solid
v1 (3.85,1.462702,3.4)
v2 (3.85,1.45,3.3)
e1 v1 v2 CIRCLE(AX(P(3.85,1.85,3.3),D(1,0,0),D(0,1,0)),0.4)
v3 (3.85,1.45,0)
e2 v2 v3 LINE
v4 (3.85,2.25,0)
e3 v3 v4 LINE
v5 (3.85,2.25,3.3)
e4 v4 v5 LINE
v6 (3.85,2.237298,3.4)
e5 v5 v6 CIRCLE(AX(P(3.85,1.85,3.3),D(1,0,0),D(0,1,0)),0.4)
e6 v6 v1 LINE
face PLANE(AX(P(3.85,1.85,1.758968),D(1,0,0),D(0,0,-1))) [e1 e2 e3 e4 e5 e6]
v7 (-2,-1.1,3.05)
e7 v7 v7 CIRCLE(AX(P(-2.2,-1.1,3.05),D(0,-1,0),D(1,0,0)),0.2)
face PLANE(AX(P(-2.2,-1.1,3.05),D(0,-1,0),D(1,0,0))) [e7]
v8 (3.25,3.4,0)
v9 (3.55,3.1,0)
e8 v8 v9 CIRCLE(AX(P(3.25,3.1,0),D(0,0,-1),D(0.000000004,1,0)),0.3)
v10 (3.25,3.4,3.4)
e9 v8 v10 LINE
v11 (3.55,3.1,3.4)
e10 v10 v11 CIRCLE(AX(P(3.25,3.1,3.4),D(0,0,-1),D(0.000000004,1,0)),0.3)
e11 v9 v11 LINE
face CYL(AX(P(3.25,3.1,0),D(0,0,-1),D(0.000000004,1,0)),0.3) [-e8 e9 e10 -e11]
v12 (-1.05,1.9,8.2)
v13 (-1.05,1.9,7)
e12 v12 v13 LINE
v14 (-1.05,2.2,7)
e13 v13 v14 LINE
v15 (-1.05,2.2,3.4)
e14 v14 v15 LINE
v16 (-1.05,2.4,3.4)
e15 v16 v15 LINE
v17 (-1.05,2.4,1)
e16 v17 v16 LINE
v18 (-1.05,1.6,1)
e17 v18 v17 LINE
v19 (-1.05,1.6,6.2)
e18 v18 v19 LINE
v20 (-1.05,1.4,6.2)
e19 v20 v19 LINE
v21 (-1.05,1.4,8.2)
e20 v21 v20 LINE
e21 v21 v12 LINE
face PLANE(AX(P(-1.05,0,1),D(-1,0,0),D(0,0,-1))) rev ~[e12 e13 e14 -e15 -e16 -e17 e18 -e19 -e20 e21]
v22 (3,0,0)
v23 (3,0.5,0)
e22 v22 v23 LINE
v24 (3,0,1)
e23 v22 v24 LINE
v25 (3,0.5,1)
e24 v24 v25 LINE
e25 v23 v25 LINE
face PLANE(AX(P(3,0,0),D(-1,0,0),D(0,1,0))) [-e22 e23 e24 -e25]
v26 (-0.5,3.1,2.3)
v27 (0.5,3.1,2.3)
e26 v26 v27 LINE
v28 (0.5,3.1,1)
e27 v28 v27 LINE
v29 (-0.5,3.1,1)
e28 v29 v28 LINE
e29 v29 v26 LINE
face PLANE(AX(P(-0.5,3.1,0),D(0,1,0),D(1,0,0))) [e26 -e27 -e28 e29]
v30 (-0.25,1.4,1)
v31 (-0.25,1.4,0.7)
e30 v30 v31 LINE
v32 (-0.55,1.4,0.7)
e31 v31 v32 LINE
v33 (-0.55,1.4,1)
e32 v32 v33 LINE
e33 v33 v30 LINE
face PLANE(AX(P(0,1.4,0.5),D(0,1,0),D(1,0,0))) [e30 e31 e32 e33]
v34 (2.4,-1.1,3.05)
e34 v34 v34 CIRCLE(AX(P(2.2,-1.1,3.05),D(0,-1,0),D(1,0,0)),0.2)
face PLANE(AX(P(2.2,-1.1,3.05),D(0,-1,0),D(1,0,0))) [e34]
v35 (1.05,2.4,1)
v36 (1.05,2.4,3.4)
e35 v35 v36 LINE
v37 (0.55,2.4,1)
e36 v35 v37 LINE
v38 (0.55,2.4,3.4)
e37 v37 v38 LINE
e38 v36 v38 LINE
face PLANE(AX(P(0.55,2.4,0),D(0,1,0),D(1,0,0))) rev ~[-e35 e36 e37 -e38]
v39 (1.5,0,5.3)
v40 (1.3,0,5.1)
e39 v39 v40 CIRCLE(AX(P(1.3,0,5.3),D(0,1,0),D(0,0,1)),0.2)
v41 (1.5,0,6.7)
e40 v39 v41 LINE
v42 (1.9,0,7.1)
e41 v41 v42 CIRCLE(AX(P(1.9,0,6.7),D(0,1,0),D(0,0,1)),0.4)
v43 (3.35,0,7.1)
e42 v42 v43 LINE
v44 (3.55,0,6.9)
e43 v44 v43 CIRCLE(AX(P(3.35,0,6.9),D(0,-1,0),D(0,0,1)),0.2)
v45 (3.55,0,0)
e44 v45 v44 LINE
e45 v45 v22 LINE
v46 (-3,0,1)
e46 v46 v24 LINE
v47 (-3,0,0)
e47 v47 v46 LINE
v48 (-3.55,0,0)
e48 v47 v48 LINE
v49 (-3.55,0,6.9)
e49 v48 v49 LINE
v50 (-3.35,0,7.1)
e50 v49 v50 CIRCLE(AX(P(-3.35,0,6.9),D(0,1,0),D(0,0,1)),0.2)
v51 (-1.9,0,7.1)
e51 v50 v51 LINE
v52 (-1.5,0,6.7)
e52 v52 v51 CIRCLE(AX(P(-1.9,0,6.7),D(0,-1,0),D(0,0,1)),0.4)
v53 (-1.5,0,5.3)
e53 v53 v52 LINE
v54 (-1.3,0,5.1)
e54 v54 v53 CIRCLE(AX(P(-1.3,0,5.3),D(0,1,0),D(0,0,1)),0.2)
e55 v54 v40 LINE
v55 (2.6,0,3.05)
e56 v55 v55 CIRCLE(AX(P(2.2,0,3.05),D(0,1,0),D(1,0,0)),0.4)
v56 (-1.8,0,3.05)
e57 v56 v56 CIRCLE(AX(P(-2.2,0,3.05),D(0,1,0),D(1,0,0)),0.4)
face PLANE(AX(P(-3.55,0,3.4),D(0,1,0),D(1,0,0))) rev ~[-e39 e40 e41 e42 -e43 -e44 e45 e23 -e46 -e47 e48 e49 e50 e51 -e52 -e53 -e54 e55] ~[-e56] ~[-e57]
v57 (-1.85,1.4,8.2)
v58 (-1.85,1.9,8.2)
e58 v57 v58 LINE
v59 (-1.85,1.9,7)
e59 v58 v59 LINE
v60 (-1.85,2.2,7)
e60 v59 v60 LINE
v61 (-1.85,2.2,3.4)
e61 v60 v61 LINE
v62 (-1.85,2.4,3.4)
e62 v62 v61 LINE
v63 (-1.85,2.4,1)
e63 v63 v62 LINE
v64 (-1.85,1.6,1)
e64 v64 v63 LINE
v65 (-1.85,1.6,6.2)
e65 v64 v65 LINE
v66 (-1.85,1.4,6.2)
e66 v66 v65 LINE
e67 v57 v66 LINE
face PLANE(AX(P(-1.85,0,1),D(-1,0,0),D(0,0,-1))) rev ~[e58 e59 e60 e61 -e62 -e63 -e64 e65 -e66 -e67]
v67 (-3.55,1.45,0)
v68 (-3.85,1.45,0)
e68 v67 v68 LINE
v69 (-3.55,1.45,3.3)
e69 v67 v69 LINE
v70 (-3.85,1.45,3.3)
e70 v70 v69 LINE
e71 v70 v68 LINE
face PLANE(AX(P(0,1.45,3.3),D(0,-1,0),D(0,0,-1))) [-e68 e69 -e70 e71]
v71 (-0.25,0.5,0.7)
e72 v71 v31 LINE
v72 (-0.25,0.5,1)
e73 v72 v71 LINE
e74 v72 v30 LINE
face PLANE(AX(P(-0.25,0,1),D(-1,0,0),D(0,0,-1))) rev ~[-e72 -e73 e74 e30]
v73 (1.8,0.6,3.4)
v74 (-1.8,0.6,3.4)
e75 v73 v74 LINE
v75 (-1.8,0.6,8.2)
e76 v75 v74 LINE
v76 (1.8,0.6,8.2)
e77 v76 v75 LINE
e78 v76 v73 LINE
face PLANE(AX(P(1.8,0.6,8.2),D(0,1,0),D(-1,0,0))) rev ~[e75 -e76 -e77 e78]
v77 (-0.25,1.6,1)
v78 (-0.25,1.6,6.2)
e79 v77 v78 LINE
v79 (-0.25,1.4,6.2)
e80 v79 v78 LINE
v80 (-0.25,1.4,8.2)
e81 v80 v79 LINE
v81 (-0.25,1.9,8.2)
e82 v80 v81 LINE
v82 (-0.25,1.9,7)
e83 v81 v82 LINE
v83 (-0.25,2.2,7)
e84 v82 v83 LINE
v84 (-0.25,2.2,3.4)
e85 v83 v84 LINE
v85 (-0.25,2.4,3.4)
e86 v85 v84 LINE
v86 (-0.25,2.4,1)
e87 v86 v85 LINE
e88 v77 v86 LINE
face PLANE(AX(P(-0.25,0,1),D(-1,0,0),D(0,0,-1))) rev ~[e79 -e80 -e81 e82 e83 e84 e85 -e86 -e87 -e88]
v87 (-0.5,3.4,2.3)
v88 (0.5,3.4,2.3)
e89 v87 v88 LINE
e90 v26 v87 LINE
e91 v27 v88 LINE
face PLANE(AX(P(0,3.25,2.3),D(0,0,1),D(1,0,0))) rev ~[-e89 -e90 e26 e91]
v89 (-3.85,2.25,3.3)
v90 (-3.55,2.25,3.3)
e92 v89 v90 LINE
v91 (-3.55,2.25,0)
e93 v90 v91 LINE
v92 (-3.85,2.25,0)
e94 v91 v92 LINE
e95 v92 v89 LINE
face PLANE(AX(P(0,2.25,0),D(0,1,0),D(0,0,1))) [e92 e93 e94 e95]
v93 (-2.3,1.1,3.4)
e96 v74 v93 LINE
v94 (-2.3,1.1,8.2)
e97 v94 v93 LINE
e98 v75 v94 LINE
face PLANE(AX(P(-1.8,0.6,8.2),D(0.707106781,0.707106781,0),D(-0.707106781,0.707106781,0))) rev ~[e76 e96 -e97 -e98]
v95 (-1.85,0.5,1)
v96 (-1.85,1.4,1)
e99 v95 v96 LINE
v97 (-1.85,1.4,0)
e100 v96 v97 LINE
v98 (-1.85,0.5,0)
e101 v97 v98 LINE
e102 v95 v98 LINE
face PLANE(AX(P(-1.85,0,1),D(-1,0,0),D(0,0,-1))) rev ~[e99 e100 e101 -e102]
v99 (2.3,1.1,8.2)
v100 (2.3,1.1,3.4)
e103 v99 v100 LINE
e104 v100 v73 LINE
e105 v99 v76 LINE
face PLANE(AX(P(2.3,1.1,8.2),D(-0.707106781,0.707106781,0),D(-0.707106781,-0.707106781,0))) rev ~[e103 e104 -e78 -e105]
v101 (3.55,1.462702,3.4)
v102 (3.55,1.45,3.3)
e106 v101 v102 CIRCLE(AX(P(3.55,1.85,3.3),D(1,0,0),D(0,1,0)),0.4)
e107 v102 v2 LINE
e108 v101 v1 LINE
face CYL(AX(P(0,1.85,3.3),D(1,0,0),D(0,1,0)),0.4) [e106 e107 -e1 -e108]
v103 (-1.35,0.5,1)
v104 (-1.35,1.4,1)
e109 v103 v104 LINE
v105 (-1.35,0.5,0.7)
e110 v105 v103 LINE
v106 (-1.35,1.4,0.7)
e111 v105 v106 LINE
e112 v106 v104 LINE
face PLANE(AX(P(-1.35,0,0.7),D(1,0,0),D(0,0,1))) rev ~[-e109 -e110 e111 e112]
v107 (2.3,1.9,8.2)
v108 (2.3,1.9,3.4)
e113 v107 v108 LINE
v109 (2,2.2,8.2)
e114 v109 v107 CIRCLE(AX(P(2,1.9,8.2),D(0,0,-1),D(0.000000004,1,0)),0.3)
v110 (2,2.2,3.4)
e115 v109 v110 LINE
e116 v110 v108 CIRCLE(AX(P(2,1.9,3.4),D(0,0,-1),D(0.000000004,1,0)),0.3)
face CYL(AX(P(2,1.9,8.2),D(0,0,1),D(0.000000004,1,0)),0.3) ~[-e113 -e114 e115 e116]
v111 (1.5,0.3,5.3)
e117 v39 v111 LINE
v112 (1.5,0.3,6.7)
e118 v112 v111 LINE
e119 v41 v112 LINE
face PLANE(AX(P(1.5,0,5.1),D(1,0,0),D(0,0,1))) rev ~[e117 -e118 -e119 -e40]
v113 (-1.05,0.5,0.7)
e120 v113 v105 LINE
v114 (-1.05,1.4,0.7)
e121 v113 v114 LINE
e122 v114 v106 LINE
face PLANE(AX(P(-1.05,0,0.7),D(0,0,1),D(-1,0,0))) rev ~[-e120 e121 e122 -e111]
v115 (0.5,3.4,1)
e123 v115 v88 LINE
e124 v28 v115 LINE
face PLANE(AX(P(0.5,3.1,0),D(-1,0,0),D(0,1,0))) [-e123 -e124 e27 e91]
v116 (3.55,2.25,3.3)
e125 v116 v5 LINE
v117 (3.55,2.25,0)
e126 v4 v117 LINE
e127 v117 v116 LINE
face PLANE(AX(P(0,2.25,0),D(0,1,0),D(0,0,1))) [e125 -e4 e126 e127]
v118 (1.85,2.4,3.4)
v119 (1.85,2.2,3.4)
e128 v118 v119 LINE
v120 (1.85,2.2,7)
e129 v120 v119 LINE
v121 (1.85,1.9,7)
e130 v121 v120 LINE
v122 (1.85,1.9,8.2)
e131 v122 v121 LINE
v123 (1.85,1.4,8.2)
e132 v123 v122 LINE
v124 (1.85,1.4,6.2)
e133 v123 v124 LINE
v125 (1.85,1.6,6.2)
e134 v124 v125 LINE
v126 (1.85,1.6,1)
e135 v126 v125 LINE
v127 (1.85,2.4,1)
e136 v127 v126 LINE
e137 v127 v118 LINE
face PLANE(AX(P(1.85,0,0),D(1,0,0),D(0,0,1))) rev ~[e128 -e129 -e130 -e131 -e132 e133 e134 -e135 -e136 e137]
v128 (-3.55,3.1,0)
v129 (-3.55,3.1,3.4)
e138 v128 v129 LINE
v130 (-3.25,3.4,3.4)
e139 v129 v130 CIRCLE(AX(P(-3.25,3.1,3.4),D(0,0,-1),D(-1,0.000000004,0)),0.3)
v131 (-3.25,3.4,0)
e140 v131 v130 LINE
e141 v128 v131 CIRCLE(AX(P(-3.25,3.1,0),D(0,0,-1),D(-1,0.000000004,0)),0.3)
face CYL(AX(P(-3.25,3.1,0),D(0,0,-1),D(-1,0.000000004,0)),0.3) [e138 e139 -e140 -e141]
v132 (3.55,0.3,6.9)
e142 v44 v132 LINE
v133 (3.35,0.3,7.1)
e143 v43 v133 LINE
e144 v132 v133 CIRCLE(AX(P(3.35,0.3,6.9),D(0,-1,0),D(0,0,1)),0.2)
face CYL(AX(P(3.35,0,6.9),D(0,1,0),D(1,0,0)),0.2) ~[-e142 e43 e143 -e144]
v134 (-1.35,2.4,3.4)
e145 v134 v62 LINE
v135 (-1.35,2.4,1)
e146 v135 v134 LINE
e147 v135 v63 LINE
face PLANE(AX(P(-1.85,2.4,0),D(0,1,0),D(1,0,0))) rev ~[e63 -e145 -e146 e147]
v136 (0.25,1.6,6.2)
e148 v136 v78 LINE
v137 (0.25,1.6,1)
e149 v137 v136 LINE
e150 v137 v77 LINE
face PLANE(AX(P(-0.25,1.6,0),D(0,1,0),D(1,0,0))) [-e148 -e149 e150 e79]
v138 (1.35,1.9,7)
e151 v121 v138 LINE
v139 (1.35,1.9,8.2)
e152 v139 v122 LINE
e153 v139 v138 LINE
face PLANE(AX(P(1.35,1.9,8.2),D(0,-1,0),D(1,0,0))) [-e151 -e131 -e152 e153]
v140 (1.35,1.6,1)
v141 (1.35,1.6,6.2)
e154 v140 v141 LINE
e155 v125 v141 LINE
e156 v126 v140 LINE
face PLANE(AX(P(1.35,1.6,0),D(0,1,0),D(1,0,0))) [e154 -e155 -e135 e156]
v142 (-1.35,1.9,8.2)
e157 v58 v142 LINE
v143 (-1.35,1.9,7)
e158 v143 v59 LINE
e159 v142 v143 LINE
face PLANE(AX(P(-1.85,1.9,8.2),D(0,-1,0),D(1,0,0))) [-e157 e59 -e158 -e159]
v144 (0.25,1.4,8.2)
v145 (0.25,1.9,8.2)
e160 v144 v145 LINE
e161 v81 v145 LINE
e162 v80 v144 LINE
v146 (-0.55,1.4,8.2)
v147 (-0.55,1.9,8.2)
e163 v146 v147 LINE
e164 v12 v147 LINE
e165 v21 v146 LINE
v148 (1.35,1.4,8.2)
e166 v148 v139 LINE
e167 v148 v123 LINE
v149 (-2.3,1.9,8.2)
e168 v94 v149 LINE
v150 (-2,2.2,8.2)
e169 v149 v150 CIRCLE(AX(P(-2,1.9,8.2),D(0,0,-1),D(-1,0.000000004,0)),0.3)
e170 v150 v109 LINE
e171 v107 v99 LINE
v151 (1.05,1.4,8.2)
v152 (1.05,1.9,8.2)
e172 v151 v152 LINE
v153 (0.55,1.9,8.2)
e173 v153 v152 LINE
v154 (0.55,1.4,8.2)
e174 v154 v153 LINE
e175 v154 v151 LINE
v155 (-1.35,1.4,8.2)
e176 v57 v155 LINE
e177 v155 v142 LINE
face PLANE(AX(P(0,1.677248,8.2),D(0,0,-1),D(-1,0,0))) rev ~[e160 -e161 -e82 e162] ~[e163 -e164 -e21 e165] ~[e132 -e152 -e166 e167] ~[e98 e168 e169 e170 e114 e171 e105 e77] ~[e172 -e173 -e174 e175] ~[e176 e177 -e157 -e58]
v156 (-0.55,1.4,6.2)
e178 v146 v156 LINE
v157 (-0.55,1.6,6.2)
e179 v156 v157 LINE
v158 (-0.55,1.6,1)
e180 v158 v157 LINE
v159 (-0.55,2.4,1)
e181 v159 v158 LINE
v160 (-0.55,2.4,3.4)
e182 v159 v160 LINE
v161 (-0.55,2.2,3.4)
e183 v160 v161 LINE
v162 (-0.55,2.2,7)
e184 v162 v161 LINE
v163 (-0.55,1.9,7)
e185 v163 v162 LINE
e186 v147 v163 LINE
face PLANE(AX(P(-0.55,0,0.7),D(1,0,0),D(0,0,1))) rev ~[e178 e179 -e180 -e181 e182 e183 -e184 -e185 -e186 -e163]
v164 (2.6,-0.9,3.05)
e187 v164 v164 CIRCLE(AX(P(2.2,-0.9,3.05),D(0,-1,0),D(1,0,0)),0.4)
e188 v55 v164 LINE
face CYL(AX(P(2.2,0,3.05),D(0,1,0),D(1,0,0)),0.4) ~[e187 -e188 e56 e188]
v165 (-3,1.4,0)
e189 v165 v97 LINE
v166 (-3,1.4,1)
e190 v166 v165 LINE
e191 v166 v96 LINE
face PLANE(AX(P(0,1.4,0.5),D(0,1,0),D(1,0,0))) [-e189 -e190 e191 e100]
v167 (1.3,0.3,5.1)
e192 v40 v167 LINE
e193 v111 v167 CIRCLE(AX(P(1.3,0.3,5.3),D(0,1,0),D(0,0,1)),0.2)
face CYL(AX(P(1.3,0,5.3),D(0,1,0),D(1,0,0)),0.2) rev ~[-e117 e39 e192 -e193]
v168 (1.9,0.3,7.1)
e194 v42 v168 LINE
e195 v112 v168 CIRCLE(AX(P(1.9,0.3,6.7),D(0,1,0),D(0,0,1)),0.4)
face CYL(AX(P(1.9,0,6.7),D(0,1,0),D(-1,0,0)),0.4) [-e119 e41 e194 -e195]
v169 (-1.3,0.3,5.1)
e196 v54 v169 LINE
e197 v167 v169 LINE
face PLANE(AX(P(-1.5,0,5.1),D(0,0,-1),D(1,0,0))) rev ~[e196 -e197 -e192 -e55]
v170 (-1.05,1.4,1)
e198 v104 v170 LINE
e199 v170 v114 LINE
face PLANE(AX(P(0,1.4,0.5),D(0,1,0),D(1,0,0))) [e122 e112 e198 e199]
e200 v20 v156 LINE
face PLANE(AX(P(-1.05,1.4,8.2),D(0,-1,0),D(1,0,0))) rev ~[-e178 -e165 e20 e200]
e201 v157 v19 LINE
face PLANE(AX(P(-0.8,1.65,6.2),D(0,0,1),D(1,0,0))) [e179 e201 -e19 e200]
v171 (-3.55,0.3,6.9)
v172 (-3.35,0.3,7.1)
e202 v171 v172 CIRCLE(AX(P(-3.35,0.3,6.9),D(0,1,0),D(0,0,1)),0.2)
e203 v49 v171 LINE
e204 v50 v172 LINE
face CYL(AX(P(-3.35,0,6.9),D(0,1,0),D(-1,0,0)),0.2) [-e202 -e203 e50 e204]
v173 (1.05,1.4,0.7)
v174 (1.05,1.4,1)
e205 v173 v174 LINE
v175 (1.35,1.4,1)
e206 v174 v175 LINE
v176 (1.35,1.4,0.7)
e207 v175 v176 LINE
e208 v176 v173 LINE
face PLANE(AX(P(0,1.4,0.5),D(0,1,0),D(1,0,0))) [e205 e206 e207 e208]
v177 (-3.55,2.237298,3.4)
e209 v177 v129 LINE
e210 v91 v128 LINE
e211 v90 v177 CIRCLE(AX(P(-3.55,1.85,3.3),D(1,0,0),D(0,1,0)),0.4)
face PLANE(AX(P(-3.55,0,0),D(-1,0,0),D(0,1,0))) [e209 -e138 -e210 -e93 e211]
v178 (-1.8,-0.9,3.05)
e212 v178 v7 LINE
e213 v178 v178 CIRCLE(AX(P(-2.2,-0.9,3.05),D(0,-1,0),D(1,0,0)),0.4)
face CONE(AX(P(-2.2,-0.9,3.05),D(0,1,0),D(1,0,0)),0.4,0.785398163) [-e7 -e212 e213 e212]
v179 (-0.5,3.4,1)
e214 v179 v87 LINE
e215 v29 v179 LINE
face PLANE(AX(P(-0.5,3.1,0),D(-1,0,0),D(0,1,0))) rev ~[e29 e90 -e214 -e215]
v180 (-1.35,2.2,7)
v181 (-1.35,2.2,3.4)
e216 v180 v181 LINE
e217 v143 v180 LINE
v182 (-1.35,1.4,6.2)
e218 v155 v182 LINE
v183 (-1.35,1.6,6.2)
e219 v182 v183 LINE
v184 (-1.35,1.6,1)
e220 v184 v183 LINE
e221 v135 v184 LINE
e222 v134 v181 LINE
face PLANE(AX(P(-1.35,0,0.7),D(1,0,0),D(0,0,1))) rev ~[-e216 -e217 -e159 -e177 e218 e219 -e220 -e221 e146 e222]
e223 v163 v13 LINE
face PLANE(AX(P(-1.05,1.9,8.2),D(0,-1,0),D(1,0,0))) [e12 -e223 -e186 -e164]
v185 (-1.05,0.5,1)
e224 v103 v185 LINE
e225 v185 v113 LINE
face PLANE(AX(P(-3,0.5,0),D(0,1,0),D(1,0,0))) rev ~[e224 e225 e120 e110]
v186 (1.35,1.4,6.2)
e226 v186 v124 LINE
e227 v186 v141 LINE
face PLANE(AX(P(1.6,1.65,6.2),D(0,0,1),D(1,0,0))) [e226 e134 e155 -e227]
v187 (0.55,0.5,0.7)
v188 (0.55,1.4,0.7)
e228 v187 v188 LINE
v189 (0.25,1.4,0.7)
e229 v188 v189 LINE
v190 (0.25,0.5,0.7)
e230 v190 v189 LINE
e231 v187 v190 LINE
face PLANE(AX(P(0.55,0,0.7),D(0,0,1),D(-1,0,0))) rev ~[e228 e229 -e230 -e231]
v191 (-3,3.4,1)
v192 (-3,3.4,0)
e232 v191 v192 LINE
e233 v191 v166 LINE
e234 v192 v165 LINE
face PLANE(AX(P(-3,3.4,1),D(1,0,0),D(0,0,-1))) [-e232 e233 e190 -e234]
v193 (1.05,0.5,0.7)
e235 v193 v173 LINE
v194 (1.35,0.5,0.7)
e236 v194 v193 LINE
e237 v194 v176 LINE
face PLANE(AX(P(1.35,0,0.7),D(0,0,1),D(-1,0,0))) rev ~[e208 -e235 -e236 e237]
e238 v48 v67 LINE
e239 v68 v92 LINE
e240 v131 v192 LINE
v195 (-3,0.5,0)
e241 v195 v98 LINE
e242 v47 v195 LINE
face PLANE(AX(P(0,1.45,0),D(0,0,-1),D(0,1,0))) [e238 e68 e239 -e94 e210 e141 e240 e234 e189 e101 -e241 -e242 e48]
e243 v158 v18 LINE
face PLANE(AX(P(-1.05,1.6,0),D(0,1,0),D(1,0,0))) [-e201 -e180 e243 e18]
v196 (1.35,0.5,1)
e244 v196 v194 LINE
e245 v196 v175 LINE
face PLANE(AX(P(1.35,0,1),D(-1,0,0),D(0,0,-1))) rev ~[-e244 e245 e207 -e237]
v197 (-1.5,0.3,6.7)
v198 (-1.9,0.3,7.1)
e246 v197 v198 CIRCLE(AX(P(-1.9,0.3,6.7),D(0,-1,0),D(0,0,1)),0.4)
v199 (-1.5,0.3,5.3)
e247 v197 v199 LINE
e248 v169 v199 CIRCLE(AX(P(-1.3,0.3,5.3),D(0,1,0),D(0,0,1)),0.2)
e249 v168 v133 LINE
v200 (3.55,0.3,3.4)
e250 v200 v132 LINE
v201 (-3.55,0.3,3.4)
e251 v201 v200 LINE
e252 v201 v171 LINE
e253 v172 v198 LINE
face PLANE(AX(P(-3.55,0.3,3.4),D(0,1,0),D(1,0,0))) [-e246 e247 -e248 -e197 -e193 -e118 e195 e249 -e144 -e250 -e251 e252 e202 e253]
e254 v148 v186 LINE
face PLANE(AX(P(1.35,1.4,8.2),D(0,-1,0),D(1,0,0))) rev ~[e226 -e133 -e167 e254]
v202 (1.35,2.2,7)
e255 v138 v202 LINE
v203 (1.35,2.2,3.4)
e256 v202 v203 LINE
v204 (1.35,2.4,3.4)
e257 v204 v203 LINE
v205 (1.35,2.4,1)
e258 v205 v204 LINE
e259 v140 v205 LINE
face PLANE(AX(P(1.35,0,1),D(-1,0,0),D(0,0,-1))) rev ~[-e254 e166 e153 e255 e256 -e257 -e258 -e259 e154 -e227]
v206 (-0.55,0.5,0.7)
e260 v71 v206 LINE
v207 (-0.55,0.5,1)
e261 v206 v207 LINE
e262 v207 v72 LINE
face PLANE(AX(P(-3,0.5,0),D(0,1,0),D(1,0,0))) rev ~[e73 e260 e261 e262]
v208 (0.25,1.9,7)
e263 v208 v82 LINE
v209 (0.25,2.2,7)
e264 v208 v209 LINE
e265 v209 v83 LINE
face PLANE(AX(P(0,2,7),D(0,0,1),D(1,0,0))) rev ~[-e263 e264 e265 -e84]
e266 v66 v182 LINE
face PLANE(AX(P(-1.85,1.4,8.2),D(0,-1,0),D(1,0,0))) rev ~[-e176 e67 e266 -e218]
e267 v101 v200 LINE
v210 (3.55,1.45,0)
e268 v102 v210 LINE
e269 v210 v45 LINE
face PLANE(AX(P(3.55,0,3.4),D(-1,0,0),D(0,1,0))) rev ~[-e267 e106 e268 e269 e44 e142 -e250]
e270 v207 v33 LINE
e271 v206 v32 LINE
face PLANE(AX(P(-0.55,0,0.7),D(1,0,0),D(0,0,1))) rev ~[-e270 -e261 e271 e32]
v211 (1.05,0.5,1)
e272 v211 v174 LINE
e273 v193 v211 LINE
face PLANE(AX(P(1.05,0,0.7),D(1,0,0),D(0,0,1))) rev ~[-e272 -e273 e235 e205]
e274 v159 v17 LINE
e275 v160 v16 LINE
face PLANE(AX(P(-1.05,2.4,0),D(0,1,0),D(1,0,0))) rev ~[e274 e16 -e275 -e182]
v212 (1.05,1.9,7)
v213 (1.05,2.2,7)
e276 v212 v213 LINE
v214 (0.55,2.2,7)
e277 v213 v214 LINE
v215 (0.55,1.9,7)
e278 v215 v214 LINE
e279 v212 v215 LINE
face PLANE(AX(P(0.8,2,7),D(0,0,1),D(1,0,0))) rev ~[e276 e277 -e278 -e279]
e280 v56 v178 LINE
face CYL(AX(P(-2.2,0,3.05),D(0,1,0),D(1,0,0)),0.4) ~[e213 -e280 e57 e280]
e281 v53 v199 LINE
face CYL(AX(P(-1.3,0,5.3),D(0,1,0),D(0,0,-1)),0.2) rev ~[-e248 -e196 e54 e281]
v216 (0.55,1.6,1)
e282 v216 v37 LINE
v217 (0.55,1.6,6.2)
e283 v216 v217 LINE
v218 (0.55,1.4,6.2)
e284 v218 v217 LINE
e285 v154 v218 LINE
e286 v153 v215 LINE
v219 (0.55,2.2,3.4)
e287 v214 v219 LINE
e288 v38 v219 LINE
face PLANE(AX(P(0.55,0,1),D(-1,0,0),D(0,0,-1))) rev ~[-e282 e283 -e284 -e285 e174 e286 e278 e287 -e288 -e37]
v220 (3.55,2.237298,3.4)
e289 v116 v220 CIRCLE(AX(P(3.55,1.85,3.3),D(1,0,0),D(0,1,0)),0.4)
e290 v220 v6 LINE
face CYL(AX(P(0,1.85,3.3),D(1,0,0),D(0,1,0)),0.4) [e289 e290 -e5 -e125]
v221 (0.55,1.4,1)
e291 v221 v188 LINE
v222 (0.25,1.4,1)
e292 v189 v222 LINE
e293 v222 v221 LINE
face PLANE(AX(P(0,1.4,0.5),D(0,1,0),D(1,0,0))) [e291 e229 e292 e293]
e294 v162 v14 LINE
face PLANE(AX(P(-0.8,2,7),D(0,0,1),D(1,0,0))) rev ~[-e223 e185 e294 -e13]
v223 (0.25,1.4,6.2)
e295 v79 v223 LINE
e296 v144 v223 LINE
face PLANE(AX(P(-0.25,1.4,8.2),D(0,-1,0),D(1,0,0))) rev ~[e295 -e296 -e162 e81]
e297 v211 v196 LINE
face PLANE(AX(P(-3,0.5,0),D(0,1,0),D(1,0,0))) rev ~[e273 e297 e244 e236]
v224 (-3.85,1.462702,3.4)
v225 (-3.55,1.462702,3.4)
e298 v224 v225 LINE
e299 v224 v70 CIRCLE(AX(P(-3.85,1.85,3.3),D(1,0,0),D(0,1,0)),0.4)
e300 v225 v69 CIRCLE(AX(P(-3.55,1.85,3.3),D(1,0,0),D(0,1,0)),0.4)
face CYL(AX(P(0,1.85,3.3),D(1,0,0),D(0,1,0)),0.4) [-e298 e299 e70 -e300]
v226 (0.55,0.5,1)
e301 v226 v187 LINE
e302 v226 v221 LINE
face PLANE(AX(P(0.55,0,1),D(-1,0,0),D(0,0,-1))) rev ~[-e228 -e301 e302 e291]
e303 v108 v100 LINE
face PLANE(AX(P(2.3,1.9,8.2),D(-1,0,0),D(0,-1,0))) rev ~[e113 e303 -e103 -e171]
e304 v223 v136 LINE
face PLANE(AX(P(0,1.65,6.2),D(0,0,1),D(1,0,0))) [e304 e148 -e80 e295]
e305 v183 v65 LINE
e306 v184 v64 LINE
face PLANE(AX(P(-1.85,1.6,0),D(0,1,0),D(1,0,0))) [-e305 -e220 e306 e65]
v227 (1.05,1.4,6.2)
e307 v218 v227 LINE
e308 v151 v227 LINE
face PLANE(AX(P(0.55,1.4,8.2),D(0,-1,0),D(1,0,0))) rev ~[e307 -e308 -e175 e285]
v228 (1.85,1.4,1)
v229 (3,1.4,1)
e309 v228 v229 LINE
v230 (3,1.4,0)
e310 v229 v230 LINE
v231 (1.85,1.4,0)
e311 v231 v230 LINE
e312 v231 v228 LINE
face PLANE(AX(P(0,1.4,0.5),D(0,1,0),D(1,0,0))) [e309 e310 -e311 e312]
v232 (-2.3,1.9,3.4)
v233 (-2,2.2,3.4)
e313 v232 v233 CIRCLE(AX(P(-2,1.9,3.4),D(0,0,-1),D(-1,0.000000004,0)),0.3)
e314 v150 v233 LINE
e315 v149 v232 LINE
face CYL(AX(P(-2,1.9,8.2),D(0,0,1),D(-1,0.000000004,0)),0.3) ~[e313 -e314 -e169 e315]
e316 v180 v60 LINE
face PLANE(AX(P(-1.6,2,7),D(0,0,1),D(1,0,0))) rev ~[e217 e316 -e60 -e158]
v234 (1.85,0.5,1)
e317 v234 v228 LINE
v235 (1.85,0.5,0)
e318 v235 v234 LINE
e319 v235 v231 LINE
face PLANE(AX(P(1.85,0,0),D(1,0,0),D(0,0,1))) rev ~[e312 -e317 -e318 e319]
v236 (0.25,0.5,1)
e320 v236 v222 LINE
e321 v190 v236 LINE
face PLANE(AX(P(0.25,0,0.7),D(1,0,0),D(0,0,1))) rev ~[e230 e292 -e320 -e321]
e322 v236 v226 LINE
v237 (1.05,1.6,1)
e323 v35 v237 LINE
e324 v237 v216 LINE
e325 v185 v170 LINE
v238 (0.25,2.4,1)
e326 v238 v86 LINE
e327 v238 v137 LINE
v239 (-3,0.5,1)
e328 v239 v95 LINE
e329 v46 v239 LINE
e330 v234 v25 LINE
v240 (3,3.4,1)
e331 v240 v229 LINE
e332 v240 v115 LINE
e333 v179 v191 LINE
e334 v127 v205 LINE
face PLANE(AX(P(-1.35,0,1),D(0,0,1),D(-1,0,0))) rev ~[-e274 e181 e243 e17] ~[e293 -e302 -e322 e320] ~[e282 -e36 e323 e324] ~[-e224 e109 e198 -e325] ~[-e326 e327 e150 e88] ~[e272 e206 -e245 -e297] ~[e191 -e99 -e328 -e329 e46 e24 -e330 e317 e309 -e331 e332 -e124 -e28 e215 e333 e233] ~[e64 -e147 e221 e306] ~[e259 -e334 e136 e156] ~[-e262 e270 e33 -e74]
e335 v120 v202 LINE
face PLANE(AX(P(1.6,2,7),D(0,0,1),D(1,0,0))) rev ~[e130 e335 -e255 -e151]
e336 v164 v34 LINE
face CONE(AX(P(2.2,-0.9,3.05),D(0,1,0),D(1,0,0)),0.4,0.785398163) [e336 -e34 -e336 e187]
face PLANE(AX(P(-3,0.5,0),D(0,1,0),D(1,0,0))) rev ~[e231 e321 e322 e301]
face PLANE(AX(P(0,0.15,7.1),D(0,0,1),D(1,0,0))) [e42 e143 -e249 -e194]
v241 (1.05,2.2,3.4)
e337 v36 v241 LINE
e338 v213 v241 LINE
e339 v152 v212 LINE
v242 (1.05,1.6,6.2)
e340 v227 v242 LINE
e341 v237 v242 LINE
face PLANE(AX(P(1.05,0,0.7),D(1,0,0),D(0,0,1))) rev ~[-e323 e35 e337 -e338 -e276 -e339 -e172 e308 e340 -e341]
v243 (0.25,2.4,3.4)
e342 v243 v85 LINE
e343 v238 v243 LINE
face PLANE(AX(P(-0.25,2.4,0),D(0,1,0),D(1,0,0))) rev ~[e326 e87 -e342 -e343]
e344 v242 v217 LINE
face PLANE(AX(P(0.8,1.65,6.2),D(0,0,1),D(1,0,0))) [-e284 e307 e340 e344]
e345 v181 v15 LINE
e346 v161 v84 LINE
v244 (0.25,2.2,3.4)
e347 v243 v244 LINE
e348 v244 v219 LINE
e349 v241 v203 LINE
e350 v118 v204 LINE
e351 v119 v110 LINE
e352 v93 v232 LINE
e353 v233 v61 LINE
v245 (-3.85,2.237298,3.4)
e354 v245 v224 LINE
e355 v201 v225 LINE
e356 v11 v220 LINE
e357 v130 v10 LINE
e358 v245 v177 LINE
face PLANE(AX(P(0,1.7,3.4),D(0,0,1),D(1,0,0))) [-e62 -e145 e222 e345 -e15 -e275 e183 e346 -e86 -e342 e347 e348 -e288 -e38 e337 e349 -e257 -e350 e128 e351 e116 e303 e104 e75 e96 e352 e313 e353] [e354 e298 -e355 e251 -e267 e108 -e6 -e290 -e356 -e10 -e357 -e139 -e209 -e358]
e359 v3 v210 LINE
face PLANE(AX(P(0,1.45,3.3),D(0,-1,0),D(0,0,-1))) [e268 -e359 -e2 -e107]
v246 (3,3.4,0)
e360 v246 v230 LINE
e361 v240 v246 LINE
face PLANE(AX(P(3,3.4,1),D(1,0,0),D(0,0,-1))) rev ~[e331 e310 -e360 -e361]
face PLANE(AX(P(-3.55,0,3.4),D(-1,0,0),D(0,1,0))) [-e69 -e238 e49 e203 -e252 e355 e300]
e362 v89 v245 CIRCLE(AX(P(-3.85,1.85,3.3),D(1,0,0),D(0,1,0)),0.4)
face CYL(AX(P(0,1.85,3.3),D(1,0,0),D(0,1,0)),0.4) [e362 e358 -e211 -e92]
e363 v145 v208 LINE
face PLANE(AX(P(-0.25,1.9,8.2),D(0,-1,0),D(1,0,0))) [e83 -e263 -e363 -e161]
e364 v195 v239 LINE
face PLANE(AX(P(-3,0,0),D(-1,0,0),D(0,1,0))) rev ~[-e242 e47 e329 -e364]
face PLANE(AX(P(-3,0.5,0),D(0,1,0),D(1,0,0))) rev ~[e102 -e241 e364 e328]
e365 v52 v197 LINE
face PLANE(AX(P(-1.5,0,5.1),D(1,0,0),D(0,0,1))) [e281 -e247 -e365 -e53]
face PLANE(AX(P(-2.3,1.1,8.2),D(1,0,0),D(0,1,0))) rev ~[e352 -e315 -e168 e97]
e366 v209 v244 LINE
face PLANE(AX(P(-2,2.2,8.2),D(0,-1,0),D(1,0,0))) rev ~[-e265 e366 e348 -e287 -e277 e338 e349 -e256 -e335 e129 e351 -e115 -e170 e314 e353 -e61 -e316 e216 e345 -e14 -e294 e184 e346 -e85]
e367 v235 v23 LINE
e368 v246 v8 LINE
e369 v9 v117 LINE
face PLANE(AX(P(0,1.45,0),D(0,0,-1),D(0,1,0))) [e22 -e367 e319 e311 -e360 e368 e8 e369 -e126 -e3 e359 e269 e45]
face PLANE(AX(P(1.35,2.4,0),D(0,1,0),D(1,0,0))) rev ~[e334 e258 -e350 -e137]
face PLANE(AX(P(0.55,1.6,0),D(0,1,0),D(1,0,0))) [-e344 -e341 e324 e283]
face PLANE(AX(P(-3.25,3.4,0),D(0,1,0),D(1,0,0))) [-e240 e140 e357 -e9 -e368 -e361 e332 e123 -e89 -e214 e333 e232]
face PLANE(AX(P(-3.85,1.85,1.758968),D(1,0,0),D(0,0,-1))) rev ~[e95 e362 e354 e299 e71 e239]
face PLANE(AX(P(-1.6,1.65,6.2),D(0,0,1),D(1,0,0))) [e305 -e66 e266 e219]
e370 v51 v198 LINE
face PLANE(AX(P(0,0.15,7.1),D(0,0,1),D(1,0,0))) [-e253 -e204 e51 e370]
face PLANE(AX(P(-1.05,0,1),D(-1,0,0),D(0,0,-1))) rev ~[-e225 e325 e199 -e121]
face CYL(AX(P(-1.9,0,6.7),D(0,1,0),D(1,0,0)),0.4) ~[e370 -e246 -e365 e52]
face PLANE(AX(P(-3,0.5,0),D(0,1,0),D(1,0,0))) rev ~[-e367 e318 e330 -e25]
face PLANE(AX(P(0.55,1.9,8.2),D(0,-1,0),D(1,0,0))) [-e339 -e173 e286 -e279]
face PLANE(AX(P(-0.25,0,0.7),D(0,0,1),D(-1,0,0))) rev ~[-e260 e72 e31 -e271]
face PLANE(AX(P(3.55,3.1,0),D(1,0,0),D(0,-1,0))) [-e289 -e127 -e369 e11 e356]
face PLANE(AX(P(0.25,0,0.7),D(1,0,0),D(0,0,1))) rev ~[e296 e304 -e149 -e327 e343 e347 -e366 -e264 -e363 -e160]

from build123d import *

# Parameters (mm, degrees)
BOSS_EXTRUDE1_DEPTH = 8.2
BOSS_EXTRUDE2_DEPTH = 3.85
SKETCH3_OUTSIDE_W   = 12.05
SKETCH3_OUTSIDE_H   = 7.75
CUT_EXTRUDE1_DEPTH  = 4.8
SKETCH4_W           = 1
SKETCH4_H           = 0.3
CUT_EXTRUDE3_DEPTH  = 2.3
CUT_EXTRUDE6_DEPTH  = 4.4
SKETCH6_W           = 0.5
SKETCH6_H           = 0.5
CUT_EXTRUDE7_DEPTH  = 2
SKETCH7_W           = 0.5
SKETCH7_H           = 0.8
CUT_EXTRUDE8_DEPTH  = 7
SKETCH8_W           = 6
SKETCH8_H           = 1
CUT_EXTRUDE9_DEPTH  = 2
SKETCH9_W           = 6
SKETCH9_H           = 0.5
CUT_EXTRUDE10_DEPTH = 1
SKETCH10_R          = 0.4
BOSS_EXTRUDE3_DEPTH = 1.1
CHAMFER1_SIZE       = 0.2
SKETCH11_W          = 7.1
SKETCH11_H          = 0.3
BOSS_EXTRUDE4_DEPTH = 3.7
FILLET1_R           = 0.2
SKETCH12_W          = 3
SKETCH12_H          = 2
CUT_EXTRUDE11_DEPTH = 0.5
FILLET2_R           = 0.2
FILLET3_R           = 0.4


with BuildPart() as part:
    # Sketch1 → Boss-Extrude1 (new body)
    with BuildSketch(Plane.XY):
        with BuildLine():
            Line((-3.25, 3.4), (3.25, 3.4))
            ThreePointArc((3.25, 3.4), (3.462132034, 3.312132034), (3.55, 3.1))
            Line((3.55, 3.1), (3.55, 0))
            Line((3.55, 0), (-3.55, 0))
            Line((-3.55, 0), (-3.55, 3.1))
            ThreePointArc((-3.55, 3.1), (-3.462132034, 3.312132034), (-3.25, 3.4))
        make_face()
    extrude(amount=BOSS_EXTRUDE1_DEPTH)

    # Sketch2 → Boss-Extrude2 (add, symmetric)
    with BuildSketch(Plane(origin=(0, 0, 0), x_dir=(0, 0, -1), z_dir=(1, 0, 0))):
        with BuildLine():
            Line((0, 2.25), (-3.3, 2.25))
            ThreePointArc((-3.3, 2.25), (-3.7, 1.85), (-3.3, 1.45))
            Line((-3.3, 1.45), (0, 1.45))
            Line((0, 1.45), (0, 2.25))
        make_face()
    extrude(amount=BOSS_EXTRUDE2_DEPTH, both=True)

    # Sketch3 outside → Cut-Extrude1 (cut)
    with BuildSketch(Plane.XY.offset(8.2)):
        with Locations((0, 1.7)):
            Rectangle(SKETCH3_OUTSIDE_W, SKETCH3_OUTSIDE_H)
        with BuildLine():
            Line((-2, 2.2), (2, 2.2))
            ThreePointArc((2, 2.2), (2.212132034, 2.112132034), (2.3, 1.9))
            Line((2.3, 1.9), (2.3, 1.1))
            Line((2.3, 1.1), (1.8, 0.6))
            Line((1.8, 0.6), (-1.8, 0.6))
            Line((-1.8, 0.6), (-2.3, 1.1))
            Line((-2.3, 1.1), (-2.3, 1.9))
            ThreePointArc((-2.3, 1.9), (-2.212132034, 2.112132034), (-2, 2.2))
        make_face(mode=Mode.SUBTRACT)
    extrude(amount=-CUT_EXTRUDE1_DEPTH, mode=Mode.SUBTRACT)

    # Sketch4 → Cut-Extrude3 (cut)
    with BuildSketch(Plane.XY):
        with Locations((0, 3.25)):
            Rectangle(SKETCH4_W, SKETCH4_H)
    extrude(amount=CUT_EXTRUDE3_DEPTH, mode=Mode.SUBTRACT)

    # Sketch5 → Cut-Extrude6 (cut, through all)
    with BuildSketch(Plane(origin=(0, 0, 0), x_dir=(1, 0, 0), z_dir=(0, 1, 0))):
        Polygon((-1.85, 0), (1.85, 0), (1.85, -1), (1.35, -1), (1.35, -0.7), (1.05, -0.7), (1.05, -1), (0.55, -1), (0.55, -0.7), (0.25, -0.7), (0.25, -1), (-0.25, -1), (-0.25, -0.7), (-0.55, -0.7), (-0.55, -1), (-1.05, -1), (-1.05, -0.7), (-1.35, -0.7), (-1.35, -1), (-1.85, -1), align=None)
    extrude(amount=CUT_EXTRUDE6_DEPTH, mode=Mode.SUBTRACT)

    # Sketch6 → Cut-Extrude7 (cut)
    with BuildSketch(Plane.XY.offset(8.2)):
        with Locations((1.6, 1.65)):
            Rectangle(SKETCH6_W, SKETCH6_H)
        with Locations((0.8, 1.65)):
            Rectangle(SKETCH6_W, SKETCH6_H)
        with Locations((0, 1.65)):
            Rectangle(SKETCH6_W, SKETCH6_H)
        with Locations((-0.8, 1.65)):
            Rectangle(SKETCH6_W, SKETCH6_H)
        with Locations((-1.6, 1.65)):
            Rectangle(SKETCH6_W, SKETCH6_H)
    extrude(amount=-CUT_EXTRUDE7_DEPTH, mode=Mode.SUBTRACT)

    # Sketch7 → Cut-Extrude8 (cut)
    with BuildSketch(Plane.XY):
        with Locations((1.6, 2)):
            Rectangle(SKETCH7_W, SKETCH7_H)
        with Locations((0.8, 2)):
            Rectangle(SKETCH7_W, SKETCH7_H)
        with Locations((0, 2)):
            Rectangle(SKETCH7_W, SKETCH7_H)
        with Locations((-0.8, 2)):
            Rectangle(SKETCH7_W, SKETCH7_H)
        with Locations((-1.6, 2)):
            Rectangle(SKETCH7_W, SKETCH7_H)
    extrude(amount=CUT_EXTRUDE8_DEPTH, mode=Mode.SUBTRACT)

    # Sketch8 → Cut-Extrude9 (cut)
    with BuildSketch(Plane(origin=(0, 3.4, 0), x_dir=(1, 0, 0), z_dir=(0, 1, 0))):
        with Locations((0, -0.5)):
            Rectangle(SKETCH8_W, SKETCH8_H)
    extrude(amount=-CUT_EXTRUDE9_DEPTH, mode=Mode.SUBTRACT)

    # Sketch9 → Cut-Extrude10 (cut)
    with BuildSketch(Plane.XY):
        with Locations((0, 0.25)):
            Rectangle(SKETCH9_W, SKETCH9_H)
    extrude(amount=CUT_EXTRUDE10_DEPTH, mode=Mode.SUBTRACT)

    # Sketch10 → Boss-Extrude3 (add)
    with BuildSketch(Plane.XZ):
        with Locations((2.2, 3.05)):
            Circle(SKETCH10_R)
        with Locations((-2.2, 3.05)):
            Circle(SKETCH10_R)
    extrude(amount=BOSS_EXTRUDE3_DEPTH)

    # Chamfer1
    chamfer1_edges = [part.edges().sort_by_distance(p)[0] for p in [
        (1.8, -1.1, 3.05),
        (-2.6, -1.1, 3.05),
    ]]
    chamfer(chamfer1_edges, length=CHAMFER1_SIZE)

    # Sketch11 → Boss-Extrude4 (add)
    with BuildSketch(Plane.XY.offset(3.4)):
        with Locations((0, 0.15)):
            Rectangle(SKETCH11_W, SKETCH11_H)
    extrude(amount=BOSS_EXTRUDE4_DEPTH)

    # Fillet1
    fillet1_edges = [part.edges().sort_by_distance(p)[0] for p in [
        (-3.55, 0.15, 7.1),
        (3.55, 0.15, 7.1),
    ]]
    fillet(fillet1_edges, radius=FILLET1_R)

    # Sketch12 → Cut-Extrude11 (cut)
    with BuildSketch(Plane.XZ):
        with Locations((0, 6.1)):
            Rectangle(SKETCH12_W, SKETCH12_H)
    extrude(amount=-CUT_EXTRUDE11_DEPTH, mode=Mode.SUBTRACT)

    # Fillet2
    fillet2_edges = [part.edges().sort_by_distance(p)[0] for p in [
        (1.5, 0.15, 5.1),
        (-1.5, 0.15, 5.1),
    ]]
    fillet(fillet2_edges, radius=FILLET2_R)

    # Fillet3
    fillet3_edges = [part.edges().sort_by_distance(p)[0] for p in [
        (1.5, 0.15, 7.1),
        (-1.5, 0.15, 7.1),
    ]]
    fillet(fillet3_edges, radius=FILLET3_R)


solid = part.part
